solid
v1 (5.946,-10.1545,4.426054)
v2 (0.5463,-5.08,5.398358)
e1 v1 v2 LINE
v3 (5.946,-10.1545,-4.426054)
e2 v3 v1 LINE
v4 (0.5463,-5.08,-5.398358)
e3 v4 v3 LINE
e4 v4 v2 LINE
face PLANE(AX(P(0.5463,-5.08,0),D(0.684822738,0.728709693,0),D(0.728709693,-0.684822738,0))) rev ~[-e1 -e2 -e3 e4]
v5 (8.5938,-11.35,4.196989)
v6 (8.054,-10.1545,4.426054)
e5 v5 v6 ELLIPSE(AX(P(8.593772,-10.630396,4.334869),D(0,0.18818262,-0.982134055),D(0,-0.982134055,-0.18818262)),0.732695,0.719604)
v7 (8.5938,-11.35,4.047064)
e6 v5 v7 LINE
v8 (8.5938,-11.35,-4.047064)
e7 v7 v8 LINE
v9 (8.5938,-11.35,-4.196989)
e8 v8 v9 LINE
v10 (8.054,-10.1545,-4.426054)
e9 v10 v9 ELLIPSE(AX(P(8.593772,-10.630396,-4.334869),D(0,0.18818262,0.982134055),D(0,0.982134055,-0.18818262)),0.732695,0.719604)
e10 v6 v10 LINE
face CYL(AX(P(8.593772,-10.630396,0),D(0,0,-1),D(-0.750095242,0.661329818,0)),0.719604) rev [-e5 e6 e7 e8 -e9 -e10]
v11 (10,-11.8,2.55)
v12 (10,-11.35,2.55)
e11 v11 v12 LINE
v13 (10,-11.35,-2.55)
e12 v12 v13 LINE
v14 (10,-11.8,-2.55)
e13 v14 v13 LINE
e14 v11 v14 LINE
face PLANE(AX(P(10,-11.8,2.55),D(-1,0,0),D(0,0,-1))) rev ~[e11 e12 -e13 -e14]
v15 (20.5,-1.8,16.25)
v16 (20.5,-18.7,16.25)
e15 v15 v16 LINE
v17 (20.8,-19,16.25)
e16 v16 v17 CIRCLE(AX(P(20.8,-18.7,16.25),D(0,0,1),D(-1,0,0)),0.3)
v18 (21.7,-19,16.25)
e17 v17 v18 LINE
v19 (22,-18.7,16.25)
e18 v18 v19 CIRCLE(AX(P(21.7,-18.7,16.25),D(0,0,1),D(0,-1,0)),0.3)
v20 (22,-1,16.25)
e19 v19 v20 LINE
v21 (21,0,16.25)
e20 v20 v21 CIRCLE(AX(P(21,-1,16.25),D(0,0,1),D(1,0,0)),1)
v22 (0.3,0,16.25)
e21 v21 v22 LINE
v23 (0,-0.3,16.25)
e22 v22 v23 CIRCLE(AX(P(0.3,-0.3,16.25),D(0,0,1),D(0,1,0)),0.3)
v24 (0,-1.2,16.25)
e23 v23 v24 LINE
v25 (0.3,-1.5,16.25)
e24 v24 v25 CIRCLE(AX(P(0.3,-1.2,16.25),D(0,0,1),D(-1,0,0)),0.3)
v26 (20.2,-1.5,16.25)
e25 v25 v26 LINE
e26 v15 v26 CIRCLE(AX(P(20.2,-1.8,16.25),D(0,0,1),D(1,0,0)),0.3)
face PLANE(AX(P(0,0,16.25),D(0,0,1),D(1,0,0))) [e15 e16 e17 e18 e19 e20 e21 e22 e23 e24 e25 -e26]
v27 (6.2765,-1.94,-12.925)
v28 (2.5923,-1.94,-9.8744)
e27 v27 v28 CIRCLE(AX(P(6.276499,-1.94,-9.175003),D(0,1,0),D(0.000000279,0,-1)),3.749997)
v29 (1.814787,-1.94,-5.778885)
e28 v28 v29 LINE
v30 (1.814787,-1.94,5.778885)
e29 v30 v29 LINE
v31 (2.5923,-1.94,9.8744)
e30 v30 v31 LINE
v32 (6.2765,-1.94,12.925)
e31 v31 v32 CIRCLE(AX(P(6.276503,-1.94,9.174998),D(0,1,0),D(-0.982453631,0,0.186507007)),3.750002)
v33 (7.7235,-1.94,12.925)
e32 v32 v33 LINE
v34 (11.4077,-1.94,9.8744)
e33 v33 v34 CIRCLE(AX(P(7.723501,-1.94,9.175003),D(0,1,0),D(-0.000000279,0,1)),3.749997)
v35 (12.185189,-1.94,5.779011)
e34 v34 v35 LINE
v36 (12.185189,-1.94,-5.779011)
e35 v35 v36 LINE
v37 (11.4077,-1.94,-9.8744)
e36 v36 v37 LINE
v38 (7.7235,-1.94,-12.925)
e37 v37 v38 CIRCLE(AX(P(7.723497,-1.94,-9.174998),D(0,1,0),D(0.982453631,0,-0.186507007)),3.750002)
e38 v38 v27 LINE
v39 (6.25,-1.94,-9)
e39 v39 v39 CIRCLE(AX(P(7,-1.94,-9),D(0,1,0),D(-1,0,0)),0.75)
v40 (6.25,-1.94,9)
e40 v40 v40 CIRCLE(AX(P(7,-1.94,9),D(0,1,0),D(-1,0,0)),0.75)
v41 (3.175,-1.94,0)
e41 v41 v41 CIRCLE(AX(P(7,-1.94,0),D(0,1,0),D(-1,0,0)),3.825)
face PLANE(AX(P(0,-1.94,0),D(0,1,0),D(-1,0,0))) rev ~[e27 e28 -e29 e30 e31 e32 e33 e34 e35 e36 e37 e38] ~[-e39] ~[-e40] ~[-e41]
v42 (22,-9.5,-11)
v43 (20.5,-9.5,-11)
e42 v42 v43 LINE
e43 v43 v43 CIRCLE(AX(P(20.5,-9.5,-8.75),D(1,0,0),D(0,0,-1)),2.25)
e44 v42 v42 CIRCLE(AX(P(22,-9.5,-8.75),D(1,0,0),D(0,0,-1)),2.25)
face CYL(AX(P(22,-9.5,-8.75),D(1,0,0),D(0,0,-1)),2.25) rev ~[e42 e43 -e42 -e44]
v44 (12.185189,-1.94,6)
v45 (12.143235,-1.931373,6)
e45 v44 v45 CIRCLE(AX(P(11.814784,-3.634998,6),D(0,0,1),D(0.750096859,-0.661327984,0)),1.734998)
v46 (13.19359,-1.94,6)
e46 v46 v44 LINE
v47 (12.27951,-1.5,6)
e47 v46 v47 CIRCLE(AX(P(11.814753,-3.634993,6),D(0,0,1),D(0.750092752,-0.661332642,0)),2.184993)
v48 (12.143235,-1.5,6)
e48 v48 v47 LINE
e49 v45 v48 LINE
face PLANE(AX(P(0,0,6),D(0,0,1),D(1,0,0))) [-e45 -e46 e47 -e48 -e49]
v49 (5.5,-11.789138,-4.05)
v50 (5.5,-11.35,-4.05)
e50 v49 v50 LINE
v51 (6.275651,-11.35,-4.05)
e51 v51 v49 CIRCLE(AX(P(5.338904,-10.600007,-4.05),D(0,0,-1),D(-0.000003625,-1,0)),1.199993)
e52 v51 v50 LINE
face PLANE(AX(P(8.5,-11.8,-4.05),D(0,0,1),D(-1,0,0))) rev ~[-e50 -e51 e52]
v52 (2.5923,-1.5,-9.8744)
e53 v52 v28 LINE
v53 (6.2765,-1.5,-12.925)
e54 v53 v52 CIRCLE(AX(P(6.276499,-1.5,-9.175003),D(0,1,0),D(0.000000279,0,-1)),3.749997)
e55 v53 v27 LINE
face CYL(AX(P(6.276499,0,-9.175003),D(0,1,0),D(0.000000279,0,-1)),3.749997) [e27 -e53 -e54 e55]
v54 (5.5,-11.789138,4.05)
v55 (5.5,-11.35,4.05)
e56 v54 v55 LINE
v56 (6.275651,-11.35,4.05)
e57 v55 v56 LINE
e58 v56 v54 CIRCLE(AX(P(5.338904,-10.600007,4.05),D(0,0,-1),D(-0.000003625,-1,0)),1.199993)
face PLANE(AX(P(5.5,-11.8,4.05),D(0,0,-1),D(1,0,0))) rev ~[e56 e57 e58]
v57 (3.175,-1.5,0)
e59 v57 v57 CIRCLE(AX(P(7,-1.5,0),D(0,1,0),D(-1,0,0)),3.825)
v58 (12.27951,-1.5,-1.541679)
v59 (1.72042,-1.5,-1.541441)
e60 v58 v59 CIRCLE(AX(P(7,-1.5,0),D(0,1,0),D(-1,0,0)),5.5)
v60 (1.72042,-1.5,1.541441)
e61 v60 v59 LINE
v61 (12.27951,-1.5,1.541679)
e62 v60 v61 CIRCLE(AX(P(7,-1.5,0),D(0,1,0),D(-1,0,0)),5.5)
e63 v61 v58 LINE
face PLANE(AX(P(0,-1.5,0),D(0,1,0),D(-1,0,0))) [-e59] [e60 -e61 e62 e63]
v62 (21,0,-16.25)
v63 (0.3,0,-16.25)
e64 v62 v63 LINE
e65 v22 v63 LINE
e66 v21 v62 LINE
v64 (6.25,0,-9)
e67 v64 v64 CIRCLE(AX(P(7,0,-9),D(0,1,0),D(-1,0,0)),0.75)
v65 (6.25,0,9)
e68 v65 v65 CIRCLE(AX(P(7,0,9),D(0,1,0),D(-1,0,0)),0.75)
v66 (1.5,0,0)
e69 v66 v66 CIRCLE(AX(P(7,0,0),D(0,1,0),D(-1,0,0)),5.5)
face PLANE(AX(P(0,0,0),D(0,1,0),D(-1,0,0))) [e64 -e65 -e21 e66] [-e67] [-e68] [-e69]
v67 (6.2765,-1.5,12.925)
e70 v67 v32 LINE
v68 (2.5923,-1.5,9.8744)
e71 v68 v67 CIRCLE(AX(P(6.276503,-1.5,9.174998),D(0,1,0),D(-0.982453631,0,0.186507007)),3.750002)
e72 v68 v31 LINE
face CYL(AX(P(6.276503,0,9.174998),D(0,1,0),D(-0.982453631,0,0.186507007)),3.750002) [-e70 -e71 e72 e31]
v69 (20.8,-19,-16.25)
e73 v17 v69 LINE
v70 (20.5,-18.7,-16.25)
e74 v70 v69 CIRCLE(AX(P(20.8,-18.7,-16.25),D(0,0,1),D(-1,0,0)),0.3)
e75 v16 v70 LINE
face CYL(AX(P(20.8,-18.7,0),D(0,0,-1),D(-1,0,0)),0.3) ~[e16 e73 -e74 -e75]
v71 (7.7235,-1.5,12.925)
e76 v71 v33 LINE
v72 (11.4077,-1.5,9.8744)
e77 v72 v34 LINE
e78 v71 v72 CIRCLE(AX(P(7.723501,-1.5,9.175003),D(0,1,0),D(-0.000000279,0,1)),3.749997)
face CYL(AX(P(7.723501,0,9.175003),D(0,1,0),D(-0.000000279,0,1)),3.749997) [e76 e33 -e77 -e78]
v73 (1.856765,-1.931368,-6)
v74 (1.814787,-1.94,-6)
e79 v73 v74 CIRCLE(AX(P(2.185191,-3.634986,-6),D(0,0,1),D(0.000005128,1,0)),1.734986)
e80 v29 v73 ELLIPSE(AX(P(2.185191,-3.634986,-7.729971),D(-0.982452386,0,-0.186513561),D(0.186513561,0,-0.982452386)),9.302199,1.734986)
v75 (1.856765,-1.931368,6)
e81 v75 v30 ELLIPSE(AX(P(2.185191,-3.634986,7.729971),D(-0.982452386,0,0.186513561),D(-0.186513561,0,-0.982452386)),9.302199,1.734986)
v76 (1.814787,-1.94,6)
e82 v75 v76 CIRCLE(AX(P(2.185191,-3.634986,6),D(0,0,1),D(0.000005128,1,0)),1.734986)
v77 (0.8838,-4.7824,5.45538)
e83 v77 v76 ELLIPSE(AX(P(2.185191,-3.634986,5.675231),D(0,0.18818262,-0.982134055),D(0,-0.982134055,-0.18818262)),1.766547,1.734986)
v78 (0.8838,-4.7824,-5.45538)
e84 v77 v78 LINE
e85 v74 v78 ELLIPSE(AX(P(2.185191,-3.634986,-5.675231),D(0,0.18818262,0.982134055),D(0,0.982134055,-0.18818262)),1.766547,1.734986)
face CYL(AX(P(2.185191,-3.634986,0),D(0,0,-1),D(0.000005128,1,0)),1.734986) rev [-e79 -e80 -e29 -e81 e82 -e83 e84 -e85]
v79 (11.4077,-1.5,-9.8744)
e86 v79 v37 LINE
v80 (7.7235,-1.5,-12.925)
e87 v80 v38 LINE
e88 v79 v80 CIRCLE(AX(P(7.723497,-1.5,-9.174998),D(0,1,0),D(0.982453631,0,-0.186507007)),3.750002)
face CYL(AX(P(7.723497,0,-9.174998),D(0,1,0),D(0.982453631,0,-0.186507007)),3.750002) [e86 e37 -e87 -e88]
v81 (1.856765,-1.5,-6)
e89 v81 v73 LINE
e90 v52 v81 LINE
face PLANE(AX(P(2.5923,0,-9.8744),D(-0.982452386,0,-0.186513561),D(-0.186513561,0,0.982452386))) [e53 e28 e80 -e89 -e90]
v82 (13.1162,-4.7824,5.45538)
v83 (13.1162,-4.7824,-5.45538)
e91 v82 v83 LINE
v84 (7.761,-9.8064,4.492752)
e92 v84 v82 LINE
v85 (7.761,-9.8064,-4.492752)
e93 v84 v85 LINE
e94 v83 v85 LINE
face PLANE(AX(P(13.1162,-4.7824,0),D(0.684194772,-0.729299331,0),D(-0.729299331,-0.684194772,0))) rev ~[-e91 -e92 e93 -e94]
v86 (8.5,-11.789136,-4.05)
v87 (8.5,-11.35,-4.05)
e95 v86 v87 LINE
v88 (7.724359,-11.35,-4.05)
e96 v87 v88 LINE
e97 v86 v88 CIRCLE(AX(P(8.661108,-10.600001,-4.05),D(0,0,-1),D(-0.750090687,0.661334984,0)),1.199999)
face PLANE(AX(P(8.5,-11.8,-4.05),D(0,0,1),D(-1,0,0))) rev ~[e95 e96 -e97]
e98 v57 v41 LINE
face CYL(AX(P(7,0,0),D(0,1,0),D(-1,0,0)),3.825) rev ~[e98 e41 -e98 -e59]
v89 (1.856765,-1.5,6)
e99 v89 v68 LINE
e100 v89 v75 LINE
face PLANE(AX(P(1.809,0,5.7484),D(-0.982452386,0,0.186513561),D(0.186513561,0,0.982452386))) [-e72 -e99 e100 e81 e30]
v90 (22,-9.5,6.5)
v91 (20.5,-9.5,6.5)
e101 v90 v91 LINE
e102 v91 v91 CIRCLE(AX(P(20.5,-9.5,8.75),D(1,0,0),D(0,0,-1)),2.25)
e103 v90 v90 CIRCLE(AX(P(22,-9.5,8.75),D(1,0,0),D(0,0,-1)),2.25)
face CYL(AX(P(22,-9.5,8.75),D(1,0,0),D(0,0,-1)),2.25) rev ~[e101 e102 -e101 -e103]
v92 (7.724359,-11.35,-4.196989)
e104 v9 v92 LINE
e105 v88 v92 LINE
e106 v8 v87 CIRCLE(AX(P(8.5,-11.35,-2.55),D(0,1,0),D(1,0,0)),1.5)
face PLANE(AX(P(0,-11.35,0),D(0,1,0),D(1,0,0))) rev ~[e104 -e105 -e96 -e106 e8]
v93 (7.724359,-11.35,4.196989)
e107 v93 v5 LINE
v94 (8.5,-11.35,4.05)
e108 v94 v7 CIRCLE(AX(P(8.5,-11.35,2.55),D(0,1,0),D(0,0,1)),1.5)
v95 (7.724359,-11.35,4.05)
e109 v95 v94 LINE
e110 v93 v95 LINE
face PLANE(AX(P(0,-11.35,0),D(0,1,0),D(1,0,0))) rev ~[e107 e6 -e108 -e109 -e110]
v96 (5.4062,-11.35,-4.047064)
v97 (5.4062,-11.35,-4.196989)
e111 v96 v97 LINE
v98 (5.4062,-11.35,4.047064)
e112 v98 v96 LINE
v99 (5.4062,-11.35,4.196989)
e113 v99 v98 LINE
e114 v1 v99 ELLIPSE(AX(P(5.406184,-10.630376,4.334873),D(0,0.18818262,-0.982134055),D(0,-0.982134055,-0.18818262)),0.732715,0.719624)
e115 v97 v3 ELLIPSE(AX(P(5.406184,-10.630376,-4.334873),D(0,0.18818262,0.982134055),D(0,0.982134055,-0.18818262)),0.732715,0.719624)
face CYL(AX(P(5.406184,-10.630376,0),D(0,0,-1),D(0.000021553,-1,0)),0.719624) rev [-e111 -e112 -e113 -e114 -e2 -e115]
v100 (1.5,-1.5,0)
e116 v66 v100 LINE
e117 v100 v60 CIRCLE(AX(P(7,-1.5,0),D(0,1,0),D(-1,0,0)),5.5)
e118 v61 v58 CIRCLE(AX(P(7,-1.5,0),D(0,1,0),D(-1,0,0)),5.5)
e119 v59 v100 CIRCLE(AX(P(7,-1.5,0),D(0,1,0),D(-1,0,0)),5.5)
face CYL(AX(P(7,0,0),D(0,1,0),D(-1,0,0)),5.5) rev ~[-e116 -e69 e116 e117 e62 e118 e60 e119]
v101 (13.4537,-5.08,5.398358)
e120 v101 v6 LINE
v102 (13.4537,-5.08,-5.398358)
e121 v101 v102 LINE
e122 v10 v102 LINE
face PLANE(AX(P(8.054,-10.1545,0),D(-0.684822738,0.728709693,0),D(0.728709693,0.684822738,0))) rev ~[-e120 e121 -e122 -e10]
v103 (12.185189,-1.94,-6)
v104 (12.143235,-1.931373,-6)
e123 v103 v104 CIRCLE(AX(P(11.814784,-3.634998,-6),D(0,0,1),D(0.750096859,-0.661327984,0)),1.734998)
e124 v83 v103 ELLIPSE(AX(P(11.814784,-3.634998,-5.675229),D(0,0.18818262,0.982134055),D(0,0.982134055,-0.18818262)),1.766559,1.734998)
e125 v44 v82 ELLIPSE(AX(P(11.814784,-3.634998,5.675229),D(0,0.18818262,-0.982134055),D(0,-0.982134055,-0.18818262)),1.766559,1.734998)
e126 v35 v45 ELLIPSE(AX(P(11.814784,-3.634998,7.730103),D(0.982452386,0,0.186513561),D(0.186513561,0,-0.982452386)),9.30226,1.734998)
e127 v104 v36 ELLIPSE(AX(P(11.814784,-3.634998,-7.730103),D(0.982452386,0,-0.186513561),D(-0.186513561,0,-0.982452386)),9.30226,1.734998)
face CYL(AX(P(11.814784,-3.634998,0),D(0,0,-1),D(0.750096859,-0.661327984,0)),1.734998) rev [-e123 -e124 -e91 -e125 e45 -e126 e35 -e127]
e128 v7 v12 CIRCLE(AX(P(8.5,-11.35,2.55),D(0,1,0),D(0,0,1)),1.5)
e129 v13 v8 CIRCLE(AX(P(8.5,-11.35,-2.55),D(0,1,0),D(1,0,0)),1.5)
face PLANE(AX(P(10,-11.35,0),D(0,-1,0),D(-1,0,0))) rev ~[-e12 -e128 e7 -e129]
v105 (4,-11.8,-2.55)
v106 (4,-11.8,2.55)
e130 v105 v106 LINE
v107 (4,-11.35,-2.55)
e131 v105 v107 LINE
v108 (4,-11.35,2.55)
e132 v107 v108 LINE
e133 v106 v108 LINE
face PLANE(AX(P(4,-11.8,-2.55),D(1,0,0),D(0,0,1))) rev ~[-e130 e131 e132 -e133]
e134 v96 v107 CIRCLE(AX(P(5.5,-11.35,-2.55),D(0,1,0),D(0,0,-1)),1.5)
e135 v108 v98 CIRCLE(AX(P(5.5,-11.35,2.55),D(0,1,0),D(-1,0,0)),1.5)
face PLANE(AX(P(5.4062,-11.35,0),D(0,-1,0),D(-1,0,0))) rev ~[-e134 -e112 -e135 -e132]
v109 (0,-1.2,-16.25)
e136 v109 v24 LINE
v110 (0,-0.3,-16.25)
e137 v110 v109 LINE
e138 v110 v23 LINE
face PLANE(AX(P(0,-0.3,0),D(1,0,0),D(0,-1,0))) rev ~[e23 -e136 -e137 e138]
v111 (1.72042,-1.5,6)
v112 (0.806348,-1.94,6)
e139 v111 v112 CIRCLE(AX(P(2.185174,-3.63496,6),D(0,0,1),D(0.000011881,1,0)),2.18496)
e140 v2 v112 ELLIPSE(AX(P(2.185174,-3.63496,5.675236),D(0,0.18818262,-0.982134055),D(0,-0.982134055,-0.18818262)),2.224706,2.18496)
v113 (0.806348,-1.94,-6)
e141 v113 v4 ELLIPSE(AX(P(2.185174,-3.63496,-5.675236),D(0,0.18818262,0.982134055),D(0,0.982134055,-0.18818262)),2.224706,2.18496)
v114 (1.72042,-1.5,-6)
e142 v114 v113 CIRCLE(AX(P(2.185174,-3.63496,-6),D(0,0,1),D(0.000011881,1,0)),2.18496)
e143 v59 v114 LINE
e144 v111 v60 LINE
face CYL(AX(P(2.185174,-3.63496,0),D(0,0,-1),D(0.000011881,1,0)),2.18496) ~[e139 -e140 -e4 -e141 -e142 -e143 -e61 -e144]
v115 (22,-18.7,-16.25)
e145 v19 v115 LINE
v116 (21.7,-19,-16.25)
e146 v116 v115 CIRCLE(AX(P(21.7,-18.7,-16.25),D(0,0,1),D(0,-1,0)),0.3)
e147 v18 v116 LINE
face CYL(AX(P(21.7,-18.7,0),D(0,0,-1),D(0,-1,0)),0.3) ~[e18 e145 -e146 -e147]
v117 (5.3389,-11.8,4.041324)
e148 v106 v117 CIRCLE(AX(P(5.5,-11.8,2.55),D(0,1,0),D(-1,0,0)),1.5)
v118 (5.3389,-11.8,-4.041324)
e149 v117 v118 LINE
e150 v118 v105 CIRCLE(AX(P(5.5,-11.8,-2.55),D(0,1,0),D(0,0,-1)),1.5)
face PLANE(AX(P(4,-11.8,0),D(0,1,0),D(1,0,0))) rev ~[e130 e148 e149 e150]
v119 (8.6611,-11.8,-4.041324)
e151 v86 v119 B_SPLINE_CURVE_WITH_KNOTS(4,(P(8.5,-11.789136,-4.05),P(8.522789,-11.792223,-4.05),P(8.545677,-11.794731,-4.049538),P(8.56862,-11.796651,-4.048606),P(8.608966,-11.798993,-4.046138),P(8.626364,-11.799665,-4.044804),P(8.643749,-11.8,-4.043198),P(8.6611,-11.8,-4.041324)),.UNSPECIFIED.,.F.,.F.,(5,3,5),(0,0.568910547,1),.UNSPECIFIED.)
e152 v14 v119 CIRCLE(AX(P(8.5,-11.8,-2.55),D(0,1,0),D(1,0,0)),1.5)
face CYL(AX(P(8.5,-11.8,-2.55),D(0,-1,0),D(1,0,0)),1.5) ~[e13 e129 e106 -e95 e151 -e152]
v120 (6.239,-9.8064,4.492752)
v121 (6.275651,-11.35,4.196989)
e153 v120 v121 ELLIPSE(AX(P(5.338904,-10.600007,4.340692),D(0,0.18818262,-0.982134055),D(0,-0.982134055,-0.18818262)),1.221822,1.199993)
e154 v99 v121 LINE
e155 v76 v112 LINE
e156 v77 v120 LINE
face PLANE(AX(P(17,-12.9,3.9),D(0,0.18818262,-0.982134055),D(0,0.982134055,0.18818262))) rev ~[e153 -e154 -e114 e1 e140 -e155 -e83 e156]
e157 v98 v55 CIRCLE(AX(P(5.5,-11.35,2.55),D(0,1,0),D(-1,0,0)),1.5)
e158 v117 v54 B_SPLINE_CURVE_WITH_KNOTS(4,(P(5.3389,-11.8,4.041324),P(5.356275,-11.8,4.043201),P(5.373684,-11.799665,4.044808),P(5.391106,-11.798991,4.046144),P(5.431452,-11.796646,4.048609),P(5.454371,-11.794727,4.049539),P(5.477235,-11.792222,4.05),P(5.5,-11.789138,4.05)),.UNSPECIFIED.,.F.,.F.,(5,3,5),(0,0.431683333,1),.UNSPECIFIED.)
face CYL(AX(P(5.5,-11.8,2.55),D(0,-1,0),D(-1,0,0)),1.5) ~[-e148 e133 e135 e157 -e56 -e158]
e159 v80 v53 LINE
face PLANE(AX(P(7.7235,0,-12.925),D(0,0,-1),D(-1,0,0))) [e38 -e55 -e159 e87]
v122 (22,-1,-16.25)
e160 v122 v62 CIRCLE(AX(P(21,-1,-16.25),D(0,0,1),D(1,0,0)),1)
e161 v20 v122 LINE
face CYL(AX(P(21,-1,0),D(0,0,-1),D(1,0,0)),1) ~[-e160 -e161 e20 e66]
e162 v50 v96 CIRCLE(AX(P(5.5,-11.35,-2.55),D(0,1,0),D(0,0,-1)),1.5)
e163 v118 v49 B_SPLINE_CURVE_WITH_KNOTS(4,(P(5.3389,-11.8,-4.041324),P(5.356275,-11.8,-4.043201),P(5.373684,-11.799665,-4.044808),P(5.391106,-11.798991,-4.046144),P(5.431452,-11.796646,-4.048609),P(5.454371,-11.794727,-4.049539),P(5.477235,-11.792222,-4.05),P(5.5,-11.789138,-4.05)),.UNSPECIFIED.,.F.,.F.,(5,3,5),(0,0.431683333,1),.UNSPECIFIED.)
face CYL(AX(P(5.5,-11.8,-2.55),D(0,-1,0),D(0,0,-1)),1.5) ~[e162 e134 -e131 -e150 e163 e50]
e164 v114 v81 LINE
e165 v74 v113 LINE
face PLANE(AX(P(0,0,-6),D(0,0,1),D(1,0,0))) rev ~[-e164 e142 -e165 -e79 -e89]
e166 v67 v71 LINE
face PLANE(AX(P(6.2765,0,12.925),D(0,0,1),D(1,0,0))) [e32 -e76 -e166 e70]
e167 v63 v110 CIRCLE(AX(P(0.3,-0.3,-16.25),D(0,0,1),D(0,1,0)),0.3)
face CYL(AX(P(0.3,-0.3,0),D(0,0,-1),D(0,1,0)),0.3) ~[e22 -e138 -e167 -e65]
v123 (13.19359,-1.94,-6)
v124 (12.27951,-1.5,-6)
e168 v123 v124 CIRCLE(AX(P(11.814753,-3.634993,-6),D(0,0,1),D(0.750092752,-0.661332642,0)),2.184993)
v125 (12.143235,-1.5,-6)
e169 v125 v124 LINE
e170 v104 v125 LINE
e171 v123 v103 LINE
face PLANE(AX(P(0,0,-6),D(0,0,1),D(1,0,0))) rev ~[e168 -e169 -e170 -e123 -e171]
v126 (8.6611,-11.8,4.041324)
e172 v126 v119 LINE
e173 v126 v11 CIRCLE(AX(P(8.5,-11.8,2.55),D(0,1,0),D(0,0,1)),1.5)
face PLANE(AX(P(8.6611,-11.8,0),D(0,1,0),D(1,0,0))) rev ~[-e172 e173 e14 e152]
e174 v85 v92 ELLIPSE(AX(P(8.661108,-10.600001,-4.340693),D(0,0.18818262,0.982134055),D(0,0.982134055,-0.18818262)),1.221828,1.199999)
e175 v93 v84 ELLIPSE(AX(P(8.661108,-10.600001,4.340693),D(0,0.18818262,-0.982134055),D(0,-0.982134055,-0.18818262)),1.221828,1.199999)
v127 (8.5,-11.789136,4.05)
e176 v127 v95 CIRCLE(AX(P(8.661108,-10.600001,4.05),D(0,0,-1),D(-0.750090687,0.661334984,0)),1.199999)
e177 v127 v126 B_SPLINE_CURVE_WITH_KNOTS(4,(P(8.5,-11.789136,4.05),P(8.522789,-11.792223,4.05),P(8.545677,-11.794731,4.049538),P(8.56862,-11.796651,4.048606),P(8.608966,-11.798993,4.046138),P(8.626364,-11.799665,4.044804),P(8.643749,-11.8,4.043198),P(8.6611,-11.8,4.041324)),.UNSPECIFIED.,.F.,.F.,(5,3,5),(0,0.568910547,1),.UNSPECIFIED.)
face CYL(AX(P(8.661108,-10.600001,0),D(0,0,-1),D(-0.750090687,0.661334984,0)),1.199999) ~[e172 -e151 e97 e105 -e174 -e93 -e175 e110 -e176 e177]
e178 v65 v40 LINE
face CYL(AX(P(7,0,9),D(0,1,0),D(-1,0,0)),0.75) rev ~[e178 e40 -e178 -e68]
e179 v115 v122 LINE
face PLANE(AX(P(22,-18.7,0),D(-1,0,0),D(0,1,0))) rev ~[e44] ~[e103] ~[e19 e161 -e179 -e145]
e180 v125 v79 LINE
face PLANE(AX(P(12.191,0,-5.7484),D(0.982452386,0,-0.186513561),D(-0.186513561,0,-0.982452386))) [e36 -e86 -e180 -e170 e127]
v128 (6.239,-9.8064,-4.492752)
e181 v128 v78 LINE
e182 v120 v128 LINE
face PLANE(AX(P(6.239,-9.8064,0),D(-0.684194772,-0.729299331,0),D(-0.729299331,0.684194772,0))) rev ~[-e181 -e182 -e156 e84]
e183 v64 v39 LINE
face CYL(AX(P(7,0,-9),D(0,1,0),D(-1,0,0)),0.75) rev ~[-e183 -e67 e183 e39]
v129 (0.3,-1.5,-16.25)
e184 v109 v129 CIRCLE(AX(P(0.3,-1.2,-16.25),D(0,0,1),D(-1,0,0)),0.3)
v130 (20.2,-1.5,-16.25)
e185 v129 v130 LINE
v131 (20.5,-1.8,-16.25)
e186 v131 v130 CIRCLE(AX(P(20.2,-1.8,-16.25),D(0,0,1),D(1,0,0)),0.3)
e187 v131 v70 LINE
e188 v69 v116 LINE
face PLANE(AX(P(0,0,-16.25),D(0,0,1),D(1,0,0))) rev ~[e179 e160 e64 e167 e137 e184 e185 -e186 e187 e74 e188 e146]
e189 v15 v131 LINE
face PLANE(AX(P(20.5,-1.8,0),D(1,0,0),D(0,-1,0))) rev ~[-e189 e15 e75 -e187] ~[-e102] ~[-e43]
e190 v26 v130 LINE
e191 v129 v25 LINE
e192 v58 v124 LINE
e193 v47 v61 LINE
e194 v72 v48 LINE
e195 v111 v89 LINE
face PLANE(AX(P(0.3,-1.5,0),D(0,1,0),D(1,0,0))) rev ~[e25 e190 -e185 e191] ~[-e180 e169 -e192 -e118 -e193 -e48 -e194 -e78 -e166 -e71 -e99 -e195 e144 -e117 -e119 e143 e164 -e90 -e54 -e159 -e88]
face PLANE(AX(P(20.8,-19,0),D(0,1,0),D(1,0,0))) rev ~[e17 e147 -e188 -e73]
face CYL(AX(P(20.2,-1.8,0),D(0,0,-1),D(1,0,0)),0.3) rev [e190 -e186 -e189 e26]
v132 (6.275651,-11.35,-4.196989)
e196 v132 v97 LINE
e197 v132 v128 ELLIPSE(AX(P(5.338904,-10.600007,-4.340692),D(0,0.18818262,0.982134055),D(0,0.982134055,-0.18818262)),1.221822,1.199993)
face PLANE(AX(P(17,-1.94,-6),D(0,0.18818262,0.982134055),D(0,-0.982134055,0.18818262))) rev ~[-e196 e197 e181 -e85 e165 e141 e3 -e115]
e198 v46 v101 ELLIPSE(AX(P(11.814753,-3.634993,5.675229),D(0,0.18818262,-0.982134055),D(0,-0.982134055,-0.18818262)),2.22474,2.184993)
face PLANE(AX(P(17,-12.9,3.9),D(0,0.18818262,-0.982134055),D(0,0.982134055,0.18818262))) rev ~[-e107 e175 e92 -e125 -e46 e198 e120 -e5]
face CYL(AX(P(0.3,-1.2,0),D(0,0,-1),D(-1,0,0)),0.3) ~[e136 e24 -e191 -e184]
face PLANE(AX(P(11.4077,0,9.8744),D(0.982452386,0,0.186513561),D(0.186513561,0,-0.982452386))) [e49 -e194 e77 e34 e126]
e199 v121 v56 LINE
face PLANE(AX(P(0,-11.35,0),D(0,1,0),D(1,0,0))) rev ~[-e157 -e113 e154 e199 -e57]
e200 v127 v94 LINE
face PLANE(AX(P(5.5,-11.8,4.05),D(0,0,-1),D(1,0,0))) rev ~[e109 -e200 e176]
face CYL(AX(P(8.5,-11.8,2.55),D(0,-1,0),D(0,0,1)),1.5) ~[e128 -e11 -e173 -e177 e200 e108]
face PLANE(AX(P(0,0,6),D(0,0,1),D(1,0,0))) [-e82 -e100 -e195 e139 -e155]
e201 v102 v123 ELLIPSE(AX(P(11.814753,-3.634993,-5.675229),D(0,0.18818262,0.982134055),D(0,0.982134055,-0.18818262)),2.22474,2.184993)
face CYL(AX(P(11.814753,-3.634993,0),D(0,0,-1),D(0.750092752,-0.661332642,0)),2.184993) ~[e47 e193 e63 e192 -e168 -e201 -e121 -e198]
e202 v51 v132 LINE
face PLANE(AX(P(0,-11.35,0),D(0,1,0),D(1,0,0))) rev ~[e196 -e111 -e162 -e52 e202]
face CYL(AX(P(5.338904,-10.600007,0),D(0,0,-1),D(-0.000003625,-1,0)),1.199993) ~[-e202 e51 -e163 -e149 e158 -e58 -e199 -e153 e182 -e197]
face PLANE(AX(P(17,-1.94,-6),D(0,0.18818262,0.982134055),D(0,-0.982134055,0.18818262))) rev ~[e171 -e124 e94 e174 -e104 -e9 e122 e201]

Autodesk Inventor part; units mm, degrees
sketch "Skizze_1" plane through (0, 0, 0) normal (0, 0, 1) x (1, 0, 0)
  line L0 (0, -0.3) -> (0, -1.2)
  arc A0 (0, -1.2) -> (0.3, -1.5) centre (0.3, -1.2) ccw
  line L1 (0.3, -1.5) -> (20.2, -1.5)
  arc A1 (20.5, -1.8) -> (20.2, -1.5) centre (20.2, -1.8) ccw
  line L2 (20.5, -1.8) -> (20.5, -18.7)
  arc A2 (20.5, -18.7) -> (20.8, -19) centre (20.8, -18.7) ccw
  line L3 (20.8, -19) -> (21.7, -19)
  arc A3 (21.7, -19) -> (22, -18.7) centre (21.7, -18.7) ccw
  line L4 (22, -18.7) -> (22, -1)
  arc A4 (22, -1) -> (21, 0) centre (21, -1) ccw
  line L5 (21, 0) -> (0.3, 0)
  arc A5 (0.3, 0) -> (0, -0.3) centre (0.3, -0.3) ccw
extrude "Extrusion1" add sketch "Skizze_1" along normal mid plane 32.5
sketch "Skizze_2" plane through (22, 0, 0) normal (1, 0, 0) x (0, 0, -1)
  circle A0 centre (8.75, -9.5) radius 2.25
extrude "Extrusion2" cut sketch "Skizze_2" along normal mid plane 3
sketch "Skizze_3" plane through (22, 0, 0) normal (1, 0, 0) x (0, 0, -1)
  circle A0 centre (-8.75, -9.5) radius 2.25
extrude "Extrusion3" cut sketch "Skizze_3" along normal mid plane 3
sketch "Skizze_4" plane through (0, 0, 0) normal (0, 0, 1) x (1, 0, 0)
  arc A0 (2.1852, -1.45) -> (0.5463, -5.08) centre (2.1852, -3.635) ccw
  line L0 (0.5463, -5.08) -> (5.946, -10.1545)
  arc A1 (5.4062, -11.35) -> (5.946, -10.1545) centre (5.4062, -10.6304) ccw
  line L1 (5.4062, -11.35) -> (4, -11.35)
  line L2 (4, -11.35) -> (4, -11.8)
  line L3 (4, -11.8) -> (5.3389, -11.8)
  arc A2 (5.3389, -11.8) -> (6.239, -9.8064) centre (5.3389, -10.6) ccw
  line L4 (6.239, -9.8064) -> (0.8838, -4.7824)
  arc A3 (2.1852, -1.9) -> (0.8838, -4.7824) centre (2.1852, -3.635) ccw
  line L5 (2.1852, -1.9) -> (11.8148, -1.9)
  arc A4 (13.1162, -4.7824) -> (11.8148, -1.9) centre (11.8148, -3.635) ccw
  line L6 (13.1162, -4.7824) -> (7.761, -9.8064)
  arc A5 (7.761, -9.8064) -> (8.6611, -11.8) centre (8.6611, -10.6) ccw
  line L7 (8.6611, -11.8) -> (10, -11.8)
  line L8 (10, -11.8) -> (10, -11.35)
  line L9 (10, -11.35) -> (8.5938, -11.35)
  arc A6 (8.054, -10.1545) -> (8.5938, -11.35) centre (8.5938, -10.6304) ccw
  line L10 (8.054, -10.1545) -> (13.4537, -5.08)
  arc A7 (13.4537, -5.08) -> (11.8148, -1.45) centre (11.8148, -3.635) ccw
  line L11 (11.8148, -1.45) -> (2.1852, -1.45)
extrude "Extrusion4" add sketch "Skizze_4" along normal mid plane 12
sketch "Skizze_5" plane through (0, 0, 0) normal (0, 1, 0) x (-1, 0, 0)
  line L0 (-1.809, 5.7484) -> (-2.5923, 9.8744)
  arc A0 (-2.5923, 9.8744) -> (-6.2765, 12.925) centre (-6.2765, 9.175) ccw
  line L1 (-6.2765, 12.925) -> (-7.7235, 12.925)
  arc A1 (-7.7235, 12.925) -> (-11.4077, 9.8744) centre (-7.7235, 9.175) ccw
  line L2 (-11.4077, 9.8744) -> (-12.191, 5.7484)
  line L3 (-12.191, 5.7484) -> (-12.191, -5.7484)
  line L4 (-12.191, -5.7484) -> (-11.4077, -9.8744)
  arc A2 (-11.4077, -9.8744) -> (-7.7235, -12.925) centre (-7.7235, -9.175) ccw
  line L5 (-7.7235, -12.925) -> (-6.2765, -12.925)
  arc A3 (-6.2765, -12.925) -> (-2.5923, -9.8744) centre (-6.2765, -9.175) ccw
  line L6 (-2.5923, -9.8744) -> (-1.809, -5.7484)
  line L7 (-1.809, -5.7484) -> (-1.809, 5.7484)
extrude "Extrusion5" add sketch "Skizze_5" against normal blind 1.94
sketch "Skizze_6_ALT_Drilling_1" plane through (0, 0, 0) normal (0, 1, 0) x (-1, 0, 0)
  circle A0 centre (-7, 0) radius 5.5
extrude "Extrusion6" cut sketch "Skizze_6_ALT_Drilling_1" against normal blind 1.5
sketch "Skizze_7_ALT_Drilling_2" plane through (0, 0, 0) normal (0, 1, 0) x (-1, 0, 0)
  circle A0 centre (-7, 0) radius 3.825
extrude "Extrusion7" cut sketch "Skizze_7_ALT_Drilling_2" against normal blind 2.6
sketch "Skizze_8" plane through (17, 0, 0) normal (1, 0, 0) x (0, 0, -1)
  line L0 (-6, -1.94) -> (-6, -12.9)
  line L1 (-6, -12.9) -> (-3.9, -12.9)
  line L2 (-3.9, -12.9) -> (-6, -1.94)
extrude "Extrusion8" cut sketch "Skizze_8" against normal blind 30
sketch "Skizze_9" plane through (17, 0, 0) normal (1, 0, 0) x (0, 0, -1)
  line L0 (3.9, -12.9) -> (6, -12.9)
  line L1 (6, -12.9) -> (6, -1.94)
  line L2 (6, -1.94) -> (3.9, -12.9)
extrude "Extrusion9" cut sketch "Skizze_9" against normal blind 30
sketch "Skizze_10_ALT_Drilling_3" plane through (0, 0, 0) normal (0, 1, 0) x (-1, 0, 0)
  circle A0 centre (-7, 9) radius 0.75
extrude "Extrusion10" cut sketch "Skizze_10_ALT_Drilling_3" against normal blind 3
sketch "Skizze_11_ALT_Drilling_4" plane through (0, 0, 0) normal (0, 1, 0) x (-1, 0, 0)
  circle A0 centre (-7, -9) radius 0.75
extrude "Extrusion11" cut sketch "Skizze_11_ALT_Drilling_4" against normal blind 3
sketch "Skizze_12" plane through (0, -11.8, 0) normal (0, 1, 0) x (1, 0, 0)
  line L0 (3, -5.05) -> (11, -5.05)
  line L1 (11, -5.05) -> (11, 5.05)
  line L2 (11, 5.05) -> (3, 5.05)
  line L3 (3, 5.05) -> (3, -5.05)
  arc A0 (4, -2.55) -> (5.5, -4.05) centre (5.5, -2.55) ccw
  line L4 (5.5, -4.05) -> (8.5, -4.05)
  arc A1 (8.5, -4.05) -> (10, -2.55) centre (8.5, -2.55) ccw
  line L5 (10, -2.55) -> (10, 2.55)
  arc A2 (10, 2.55) -> (8.5, 4.05) centre (8.5, 2.55) ccw
  line L6 (8.5, 4.05) -> (5.5, 4.05)
  arc A3 (5.5, 4.05) -> (4, 2.55) centre (5.5, 2.55) ccw
  line L7 (4, 2.55) -> (4, -2.55)
extrude "Extrusion12" cut sketch "Skizze_12" along normal blind 0.45
ref_plane "side_1_XY" through (22, -9.5, 0) normal (1, 0, 0) x (0, 1, 0)
ref_plane "side_1_YZ" through (22, -9.5, 0) normal (0, 1, 0) x (0, 0, 1)
ref_plane "side_1_ZX" through (22, -9.5, 0) normal (0, 0, 1) x (1, 0, 0)
ref_plane "side_2_XY" through (7, -1.6, 0) normal (0, 1, 0) x (1, 0, 0)
ref_plane "side_2_YZ" through (7, -1.6, 0) normal (1, 0, 0) x (0, 0, -1)
ref_plane "side_2_ZX" through (7, -1.6, 0) normal (0, 0, -1) x (0, 1, 0)
properties part number "May Tec 1.64.5101._Mounting angle"
